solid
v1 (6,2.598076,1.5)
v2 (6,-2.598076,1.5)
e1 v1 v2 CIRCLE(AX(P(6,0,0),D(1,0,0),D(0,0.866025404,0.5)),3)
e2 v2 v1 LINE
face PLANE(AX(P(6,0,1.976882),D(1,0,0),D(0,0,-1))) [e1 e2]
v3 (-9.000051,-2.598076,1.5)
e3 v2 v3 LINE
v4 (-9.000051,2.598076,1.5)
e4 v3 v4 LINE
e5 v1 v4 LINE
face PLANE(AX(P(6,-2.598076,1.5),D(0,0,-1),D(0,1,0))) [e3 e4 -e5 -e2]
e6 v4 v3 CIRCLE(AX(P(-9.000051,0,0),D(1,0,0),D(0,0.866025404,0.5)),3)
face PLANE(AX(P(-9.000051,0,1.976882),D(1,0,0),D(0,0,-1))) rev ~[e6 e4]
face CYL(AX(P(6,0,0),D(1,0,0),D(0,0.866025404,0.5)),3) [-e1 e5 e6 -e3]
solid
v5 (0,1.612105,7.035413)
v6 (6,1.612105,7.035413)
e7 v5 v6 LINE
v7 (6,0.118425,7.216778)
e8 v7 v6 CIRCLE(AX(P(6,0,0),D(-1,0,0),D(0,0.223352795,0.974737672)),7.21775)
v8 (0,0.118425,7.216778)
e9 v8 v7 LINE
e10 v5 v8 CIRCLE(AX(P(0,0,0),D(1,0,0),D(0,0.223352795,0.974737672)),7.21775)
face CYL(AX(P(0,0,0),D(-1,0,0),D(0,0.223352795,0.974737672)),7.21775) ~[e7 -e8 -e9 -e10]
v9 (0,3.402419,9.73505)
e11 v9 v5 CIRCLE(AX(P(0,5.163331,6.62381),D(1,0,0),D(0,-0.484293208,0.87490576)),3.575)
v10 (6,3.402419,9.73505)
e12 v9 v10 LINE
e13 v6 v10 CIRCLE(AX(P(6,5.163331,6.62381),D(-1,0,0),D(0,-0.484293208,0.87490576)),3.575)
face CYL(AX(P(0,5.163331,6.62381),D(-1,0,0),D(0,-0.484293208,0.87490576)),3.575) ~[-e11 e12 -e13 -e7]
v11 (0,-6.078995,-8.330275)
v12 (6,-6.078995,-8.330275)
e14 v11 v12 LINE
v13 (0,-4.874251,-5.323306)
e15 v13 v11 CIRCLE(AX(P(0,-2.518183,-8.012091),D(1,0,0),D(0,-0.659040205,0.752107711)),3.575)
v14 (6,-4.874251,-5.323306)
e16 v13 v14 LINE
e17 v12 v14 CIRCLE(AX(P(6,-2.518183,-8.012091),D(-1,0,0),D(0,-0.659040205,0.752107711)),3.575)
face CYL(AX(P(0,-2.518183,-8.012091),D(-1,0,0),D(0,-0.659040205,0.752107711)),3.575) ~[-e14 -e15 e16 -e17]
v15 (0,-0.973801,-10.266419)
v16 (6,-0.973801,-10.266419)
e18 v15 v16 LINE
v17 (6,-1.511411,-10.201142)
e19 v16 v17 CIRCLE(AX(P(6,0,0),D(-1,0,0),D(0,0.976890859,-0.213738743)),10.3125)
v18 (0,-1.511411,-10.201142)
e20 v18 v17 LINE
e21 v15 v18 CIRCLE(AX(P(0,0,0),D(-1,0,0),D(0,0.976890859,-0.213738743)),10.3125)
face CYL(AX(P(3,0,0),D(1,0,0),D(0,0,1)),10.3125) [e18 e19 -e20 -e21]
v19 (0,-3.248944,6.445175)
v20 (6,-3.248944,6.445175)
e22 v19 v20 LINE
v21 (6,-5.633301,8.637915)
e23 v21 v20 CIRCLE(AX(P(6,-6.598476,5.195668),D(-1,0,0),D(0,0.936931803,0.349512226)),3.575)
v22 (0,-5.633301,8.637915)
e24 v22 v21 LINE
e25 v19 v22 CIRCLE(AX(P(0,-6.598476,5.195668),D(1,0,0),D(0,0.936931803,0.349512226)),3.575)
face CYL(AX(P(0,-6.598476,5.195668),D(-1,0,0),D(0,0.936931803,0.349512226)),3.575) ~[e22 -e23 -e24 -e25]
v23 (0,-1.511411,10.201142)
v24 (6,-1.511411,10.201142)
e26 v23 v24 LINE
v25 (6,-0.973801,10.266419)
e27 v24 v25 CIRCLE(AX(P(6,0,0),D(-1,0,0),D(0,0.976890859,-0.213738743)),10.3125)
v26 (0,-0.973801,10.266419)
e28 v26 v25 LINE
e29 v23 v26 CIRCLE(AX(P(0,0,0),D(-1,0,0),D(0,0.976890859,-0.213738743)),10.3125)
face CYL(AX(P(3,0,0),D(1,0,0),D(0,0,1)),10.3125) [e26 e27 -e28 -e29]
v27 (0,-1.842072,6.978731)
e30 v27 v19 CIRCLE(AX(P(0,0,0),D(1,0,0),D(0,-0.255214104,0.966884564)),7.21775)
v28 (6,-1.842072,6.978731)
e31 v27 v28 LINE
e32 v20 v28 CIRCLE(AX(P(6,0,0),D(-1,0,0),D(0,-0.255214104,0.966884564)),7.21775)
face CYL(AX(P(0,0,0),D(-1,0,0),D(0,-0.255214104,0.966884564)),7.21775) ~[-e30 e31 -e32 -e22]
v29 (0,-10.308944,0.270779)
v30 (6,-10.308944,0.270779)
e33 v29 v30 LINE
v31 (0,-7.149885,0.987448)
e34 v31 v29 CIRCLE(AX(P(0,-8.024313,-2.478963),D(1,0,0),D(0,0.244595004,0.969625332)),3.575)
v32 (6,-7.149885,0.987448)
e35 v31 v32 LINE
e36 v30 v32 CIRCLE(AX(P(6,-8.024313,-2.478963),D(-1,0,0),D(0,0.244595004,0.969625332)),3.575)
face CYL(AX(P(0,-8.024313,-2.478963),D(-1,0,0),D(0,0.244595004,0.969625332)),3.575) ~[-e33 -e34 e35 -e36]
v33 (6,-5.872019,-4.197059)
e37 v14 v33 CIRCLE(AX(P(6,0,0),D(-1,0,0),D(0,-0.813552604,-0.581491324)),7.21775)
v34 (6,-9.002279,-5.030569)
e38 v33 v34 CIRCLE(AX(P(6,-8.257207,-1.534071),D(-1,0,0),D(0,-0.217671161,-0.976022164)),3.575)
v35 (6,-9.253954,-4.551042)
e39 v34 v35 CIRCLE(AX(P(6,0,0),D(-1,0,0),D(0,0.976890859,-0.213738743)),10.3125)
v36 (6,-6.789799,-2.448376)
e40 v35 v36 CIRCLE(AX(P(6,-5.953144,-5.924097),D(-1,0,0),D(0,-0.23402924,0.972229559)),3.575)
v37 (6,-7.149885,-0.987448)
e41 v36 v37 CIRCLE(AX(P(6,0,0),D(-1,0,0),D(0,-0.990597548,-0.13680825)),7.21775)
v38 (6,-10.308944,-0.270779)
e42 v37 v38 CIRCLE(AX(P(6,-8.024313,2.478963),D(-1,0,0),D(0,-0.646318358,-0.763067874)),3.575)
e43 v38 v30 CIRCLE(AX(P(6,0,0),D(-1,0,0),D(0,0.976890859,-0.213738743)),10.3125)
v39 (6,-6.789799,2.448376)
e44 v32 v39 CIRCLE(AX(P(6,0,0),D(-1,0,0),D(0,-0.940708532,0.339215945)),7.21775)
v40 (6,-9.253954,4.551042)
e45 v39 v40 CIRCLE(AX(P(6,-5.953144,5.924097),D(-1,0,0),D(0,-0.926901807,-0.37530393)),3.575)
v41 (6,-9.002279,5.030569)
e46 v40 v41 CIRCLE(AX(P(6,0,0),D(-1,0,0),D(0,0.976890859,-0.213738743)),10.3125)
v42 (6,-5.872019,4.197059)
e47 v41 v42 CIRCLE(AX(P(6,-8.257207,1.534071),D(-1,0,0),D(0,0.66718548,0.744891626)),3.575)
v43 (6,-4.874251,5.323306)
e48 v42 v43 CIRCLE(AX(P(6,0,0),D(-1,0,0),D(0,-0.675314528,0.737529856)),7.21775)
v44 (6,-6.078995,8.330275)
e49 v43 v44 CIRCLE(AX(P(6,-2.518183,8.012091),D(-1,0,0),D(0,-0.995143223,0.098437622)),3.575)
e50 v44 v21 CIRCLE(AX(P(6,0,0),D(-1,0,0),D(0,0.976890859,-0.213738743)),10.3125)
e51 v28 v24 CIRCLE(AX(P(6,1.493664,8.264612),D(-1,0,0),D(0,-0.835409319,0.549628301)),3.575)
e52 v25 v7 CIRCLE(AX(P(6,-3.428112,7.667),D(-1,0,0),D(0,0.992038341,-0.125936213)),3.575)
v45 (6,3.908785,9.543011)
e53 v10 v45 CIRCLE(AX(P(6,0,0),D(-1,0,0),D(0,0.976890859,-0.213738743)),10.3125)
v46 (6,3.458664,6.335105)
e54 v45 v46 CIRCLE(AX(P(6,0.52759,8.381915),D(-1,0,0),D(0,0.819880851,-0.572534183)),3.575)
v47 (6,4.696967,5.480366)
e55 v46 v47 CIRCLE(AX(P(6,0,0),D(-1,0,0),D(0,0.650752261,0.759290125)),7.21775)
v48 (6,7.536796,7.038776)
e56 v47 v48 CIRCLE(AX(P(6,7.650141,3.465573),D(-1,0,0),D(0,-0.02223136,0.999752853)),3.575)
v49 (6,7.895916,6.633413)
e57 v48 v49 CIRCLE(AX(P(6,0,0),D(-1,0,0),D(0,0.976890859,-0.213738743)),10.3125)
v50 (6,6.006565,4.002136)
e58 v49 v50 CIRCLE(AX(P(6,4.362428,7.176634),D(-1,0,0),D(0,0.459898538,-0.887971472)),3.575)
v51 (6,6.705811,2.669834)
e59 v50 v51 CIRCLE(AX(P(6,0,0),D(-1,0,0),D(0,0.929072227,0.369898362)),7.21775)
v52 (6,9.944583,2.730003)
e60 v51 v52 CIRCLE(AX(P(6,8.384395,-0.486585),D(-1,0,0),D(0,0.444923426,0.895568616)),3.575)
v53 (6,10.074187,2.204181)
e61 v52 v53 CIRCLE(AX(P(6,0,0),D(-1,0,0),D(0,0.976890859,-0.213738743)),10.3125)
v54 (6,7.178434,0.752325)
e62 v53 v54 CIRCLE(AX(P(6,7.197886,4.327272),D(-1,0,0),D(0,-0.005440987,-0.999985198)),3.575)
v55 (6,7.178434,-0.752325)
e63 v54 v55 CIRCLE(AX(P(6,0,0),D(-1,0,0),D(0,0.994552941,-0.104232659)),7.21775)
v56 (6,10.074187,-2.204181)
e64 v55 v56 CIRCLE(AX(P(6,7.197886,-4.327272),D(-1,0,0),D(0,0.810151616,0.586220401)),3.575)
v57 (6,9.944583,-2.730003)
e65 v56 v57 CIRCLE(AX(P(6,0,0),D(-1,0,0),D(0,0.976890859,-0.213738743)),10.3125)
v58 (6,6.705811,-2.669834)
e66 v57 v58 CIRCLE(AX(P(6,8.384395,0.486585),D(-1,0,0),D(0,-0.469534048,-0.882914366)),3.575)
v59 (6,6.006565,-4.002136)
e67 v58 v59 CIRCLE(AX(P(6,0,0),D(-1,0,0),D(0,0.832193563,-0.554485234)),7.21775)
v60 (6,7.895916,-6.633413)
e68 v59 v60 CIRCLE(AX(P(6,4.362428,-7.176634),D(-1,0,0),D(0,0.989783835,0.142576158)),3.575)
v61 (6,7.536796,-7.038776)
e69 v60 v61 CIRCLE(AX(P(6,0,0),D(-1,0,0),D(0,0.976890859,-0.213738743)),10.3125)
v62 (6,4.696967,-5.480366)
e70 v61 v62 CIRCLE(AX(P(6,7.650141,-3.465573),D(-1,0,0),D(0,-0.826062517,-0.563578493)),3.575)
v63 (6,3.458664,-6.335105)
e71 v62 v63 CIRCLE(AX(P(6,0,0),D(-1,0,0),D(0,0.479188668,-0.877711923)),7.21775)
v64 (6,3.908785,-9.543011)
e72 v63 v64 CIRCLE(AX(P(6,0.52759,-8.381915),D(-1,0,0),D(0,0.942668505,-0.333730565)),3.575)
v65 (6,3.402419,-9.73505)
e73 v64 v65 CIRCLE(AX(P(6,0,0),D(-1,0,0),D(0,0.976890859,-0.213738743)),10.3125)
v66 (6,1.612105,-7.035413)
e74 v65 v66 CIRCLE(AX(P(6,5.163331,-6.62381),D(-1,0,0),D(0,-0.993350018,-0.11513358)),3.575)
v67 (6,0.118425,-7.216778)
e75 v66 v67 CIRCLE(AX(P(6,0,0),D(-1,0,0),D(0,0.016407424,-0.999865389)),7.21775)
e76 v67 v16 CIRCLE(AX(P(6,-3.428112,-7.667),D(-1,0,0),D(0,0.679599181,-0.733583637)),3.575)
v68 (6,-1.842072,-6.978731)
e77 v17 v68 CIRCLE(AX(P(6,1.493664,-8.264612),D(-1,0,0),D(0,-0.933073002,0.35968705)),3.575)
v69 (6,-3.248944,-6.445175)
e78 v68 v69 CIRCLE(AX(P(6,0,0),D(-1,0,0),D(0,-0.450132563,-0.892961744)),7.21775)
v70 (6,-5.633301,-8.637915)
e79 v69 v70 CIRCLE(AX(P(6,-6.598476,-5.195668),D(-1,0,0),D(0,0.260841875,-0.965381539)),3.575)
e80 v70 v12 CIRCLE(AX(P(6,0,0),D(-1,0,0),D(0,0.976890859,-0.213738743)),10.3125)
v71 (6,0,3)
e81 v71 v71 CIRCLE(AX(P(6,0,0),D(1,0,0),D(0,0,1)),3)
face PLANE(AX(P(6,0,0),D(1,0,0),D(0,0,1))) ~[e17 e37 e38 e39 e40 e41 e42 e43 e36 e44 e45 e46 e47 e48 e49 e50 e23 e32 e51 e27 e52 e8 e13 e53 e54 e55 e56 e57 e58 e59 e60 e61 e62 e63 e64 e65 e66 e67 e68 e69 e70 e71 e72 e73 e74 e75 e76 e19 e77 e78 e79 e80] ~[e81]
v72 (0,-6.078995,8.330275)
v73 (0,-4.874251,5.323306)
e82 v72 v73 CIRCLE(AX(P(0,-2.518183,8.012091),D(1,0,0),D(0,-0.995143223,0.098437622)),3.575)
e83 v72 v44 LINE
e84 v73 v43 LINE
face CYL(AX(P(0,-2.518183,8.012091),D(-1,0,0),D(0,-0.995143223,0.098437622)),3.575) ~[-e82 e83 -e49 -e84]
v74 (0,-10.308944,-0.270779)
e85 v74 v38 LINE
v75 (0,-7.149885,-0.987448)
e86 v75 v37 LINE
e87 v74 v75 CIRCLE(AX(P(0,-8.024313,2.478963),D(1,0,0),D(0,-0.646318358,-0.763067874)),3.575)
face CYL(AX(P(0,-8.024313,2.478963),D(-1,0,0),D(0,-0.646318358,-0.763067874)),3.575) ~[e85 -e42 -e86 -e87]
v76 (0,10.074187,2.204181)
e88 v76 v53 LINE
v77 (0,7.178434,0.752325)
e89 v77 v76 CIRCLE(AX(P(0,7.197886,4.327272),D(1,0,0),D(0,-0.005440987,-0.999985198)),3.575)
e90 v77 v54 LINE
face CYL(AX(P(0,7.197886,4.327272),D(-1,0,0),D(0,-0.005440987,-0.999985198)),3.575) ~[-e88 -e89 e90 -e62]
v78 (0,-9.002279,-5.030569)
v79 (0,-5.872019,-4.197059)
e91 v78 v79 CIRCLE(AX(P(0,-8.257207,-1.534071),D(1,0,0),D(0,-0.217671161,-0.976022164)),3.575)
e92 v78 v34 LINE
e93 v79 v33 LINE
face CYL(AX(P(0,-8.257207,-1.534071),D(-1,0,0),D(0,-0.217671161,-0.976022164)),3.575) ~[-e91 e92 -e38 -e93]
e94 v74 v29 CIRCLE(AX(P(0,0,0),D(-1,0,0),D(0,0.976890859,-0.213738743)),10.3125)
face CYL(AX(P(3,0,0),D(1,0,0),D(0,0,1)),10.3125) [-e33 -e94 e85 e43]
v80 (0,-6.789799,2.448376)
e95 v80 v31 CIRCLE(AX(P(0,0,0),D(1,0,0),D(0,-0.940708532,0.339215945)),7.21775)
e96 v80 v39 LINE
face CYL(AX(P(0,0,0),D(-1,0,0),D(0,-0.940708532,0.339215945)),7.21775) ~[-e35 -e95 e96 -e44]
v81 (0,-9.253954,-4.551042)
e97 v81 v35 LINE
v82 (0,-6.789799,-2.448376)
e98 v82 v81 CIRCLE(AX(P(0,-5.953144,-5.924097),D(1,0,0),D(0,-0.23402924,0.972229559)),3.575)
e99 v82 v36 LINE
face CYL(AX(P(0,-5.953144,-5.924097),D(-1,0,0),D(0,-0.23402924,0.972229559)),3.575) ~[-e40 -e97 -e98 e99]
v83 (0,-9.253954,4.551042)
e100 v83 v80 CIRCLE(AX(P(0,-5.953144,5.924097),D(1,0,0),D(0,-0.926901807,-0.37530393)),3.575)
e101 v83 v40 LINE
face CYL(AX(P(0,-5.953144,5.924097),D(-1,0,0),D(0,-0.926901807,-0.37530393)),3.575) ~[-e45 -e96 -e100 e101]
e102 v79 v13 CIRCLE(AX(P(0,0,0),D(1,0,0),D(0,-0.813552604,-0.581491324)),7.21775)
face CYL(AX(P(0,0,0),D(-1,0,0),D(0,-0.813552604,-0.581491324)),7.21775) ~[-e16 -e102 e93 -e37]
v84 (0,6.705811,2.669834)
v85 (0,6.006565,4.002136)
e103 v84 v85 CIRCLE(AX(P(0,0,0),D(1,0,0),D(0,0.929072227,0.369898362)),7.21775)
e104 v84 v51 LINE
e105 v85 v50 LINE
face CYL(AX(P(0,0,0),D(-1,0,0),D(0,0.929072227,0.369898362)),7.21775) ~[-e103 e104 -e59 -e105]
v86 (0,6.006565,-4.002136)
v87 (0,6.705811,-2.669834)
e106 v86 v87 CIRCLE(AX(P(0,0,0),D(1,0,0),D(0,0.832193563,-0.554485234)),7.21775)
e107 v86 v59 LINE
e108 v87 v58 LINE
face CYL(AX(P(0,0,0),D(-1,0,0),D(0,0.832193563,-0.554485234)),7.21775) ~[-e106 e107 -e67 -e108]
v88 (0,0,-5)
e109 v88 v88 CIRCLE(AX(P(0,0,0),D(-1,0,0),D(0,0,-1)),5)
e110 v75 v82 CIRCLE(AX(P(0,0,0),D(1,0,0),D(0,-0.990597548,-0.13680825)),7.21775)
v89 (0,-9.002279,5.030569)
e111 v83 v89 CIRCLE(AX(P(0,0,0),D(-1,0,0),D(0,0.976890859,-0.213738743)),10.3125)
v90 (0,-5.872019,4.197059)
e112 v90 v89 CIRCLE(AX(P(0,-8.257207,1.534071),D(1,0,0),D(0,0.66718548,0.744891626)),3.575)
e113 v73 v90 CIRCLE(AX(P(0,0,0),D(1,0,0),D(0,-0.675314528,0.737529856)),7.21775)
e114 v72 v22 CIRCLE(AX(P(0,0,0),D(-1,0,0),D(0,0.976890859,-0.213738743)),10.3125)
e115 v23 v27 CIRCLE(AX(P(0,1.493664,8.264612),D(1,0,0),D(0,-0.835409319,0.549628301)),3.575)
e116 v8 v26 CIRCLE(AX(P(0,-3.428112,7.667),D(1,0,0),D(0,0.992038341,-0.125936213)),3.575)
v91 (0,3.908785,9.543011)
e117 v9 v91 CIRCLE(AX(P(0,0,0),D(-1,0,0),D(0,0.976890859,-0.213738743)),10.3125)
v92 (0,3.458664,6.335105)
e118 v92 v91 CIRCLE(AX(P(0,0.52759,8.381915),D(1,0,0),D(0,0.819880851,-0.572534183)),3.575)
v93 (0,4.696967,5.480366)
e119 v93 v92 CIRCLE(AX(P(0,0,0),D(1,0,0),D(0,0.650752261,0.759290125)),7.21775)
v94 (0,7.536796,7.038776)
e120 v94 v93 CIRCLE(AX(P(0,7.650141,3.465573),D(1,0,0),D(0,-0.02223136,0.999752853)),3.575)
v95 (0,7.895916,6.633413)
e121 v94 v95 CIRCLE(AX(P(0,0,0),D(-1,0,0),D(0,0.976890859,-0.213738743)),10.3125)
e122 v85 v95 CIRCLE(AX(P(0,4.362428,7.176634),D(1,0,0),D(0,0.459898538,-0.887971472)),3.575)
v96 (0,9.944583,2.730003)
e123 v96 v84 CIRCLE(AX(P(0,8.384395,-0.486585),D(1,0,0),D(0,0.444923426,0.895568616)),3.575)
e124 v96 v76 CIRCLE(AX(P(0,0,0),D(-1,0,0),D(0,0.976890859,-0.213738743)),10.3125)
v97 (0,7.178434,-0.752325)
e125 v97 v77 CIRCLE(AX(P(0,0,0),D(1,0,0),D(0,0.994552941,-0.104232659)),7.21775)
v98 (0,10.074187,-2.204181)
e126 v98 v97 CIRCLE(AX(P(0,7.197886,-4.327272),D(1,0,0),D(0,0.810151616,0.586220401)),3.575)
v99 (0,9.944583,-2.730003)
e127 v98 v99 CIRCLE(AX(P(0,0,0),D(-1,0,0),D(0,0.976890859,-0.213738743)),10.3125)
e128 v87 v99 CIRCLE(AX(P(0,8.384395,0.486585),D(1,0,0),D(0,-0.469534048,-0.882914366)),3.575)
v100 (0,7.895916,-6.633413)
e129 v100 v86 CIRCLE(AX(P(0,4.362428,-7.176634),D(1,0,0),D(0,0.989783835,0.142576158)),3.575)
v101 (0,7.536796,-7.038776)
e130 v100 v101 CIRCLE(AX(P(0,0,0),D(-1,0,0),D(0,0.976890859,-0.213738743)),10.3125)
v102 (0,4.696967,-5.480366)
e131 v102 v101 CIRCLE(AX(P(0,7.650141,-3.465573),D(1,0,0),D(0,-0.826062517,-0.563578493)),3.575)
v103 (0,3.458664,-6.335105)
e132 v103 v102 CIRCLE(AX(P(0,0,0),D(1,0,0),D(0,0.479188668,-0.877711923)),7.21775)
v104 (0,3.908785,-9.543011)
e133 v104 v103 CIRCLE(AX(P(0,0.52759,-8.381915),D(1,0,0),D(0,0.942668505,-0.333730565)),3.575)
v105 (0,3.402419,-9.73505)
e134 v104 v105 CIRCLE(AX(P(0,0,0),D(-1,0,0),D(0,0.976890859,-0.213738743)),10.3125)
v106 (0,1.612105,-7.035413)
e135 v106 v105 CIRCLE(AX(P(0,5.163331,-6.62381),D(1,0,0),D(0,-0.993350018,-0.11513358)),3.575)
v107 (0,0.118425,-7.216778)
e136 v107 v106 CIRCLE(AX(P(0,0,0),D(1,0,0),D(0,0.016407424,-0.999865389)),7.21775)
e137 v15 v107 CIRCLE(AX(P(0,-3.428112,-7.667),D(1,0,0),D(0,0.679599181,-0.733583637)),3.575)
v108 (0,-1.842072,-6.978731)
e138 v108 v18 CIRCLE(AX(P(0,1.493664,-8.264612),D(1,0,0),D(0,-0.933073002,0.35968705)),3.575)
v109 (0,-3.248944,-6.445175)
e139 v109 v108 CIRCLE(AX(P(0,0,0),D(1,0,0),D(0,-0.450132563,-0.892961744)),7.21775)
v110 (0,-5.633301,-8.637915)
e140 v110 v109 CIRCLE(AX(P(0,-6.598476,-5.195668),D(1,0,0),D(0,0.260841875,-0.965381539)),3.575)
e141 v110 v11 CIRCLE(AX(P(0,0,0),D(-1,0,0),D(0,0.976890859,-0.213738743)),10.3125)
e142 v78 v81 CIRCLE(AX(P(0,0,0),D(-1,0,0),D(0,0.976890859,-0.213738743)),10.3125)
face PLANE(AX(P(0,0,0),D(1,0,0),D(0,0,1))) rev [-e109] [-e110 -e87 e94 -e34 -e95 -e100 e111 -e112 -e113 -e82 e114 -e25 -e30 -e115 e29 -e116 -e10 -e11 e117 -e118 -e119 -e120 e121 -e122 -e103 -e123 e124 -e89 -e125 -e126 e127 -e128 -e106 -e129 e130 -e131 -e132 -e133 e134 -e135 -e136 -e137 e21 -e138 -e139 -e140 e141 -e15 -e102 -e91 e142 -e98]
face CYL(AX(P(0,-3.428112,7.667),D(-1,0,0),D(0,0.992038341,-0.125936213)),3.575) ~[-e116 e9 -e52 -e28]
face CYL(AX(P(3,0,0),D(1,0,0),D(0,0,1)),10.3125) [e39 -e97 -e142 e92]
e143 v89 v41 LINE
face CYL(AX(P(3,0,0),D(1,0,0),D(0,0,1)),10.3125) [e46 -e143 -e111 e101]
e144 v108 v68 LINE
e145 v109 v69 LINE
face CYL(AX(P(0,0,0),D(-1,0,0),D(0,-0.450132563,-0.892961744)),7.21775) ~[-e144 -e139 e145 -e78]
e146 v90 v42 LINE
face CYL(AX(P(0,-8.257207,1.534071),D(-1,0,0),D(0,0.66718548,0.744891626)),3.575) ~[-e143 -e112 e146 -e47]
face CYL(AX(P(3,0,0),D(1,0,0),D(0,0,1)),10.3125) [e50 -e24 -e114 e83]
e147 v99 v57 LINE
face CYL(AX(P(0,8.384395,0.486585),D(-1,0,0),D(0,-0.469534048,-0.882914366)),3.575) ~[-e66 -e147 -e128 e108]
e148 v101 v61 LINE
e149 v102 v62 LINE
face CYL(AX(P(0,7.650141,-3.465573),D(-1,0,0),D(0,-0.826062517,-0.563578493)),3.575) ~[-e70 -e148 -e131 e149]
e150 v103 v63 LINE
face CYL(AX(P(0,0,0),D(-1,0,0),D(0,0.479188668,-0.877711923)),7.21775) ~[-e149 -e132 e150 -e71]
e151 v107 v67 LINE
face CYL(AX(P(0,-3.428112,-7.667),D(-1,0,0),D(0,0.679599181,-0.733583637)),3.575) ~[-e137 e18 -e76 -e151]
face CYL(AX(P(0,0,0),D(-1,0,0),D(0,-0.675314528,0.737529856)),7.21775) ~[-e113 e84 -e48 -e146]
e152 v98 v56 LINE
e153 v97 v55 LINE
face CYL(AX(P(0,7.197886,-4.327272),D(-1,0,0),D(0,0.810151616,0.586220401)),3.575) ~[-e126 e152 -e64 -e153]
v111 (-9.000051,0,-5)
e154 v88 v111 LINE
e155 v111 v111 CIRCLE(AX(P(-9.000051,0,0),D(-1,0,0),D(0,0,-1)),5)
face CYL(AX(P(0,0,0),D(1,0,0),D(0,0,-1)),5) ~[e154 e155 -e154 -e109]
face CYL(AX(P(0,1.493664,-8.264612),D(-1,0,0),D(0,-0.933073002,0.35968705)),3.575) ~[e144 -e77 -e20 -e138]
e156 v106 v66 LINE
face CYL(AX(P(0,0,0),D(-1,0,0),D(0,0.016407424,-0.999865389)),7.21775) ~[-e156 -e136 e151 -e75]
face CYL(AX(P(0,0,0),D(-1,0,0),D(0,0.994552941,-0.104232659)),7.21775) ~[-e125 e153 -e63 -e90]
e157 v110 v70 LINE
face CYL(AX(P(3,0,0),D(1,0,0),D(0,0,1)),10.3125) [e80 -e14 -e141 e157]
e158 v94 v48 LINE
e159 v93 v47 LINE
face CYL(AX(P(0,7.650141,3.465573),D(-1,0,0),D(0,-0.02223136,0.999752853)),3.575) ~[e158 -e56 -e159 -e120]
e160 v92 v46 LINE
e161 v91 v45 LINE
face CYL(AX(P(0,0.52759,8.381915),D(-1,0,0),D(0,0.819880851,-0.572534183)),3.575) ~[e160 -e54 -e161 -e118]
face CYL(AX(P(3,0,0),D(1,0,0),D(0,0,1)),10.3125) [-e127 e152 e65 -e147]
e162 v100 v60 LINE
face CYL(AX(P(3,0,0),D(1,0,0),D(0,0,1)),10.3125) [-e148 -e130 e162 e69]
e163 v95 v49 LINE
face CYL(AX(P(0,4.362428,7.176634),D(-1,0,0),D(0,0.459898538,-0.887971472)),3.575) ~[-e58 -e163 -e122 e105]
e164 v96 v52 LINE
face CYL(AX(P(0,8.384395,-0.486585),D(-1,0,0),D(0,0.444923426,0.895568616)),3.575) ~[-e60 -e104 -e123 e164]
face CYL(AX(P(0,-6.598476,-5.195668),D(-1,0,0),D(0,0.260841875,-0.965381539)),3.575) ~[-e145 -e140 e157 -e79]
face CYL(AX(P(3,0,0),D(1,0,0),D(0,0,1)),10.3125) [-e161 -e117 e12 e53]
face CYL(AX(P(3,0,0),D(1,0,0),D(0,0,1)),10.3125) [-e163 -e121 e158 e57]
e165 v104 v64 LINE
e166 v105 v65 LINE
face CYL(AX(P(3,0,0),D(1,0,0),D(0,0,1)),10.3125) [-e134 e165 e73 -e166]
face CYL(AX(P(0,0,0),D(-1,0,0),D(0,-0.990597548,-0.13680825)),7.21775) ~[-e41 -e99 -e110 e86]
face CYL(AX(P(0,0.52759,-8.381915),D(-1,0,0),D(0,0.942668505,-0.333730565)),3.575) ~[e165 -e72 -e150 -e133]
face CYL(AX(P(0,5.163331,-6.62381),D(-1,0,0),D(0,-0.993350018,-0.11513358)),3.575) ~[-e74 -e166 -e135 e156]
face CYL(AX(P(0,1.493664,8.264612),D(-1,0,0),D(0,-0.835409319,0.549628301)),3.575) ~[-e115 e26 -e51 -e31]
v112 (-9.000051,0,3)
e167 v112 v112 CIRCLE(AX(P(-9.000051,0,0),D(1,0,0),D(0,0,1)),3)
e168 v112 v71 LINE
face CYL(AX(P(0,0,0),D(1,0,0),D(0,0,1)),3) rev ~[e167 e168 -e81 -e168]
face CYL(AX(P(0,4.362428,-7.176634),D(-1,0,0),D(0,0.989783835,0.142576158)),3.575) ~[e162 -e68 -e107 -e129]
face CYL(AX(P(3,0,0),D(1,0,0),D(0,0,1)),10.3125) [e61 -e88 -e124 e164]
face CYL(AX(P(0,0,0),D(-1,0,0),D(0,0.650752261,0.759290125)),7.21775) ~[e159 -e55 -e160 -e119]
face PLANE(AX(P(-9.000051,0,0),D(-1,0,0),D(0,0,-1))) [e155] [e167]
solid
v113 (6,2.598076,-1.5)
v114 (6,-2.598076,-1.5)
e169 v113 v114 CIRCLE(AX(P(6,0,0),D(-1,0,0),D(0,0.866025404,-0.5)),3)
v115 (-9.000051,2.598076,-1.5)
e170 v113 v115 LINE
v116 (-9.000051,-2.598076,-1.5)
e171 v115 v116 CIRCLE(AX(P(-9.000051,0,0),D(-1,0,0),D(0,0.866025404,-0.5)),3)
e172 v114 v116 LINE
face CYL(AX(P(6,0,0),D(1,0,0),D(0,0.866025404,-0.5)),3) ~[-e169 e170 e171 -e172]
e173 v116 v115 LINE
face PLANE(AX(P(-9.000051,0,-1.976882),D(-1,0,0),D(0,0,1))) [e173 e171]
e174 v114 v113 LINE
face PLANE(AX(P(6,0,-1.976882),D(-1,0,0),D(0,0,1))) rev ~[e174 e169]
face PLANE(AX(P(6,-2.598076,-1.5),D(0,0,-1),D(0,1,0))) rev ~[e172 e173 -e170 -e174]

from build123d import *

# Parameters (mm, degrees)
BASPROSKE_W                = 6
BASPROSKE_H                = 10.3125
TOOTHCUT_DEPTH             = 16.77007649
TEETHCUTS_COUNT            = 13
TEETHCUTS_ANGLE            = 332.307692308
HUBNEAONESKE_R             = 5
HUBNEARONE_DEPTH           = 9.0000508
BORSKE_R                   = 3
BORE_DEPTH                 = 15.0000508
RESSALTO_EXTRUS_O1_DEPTH   = 15.0000508
RESSALTO_EXTRUS_O1_2_DEPTH = 15.0000508


with BuildPart() as part:
    # BasProSke → Base-Revolve (revolve)
    with BuildSketch(Plane(origin=(0, 0, 0), x_dir=(1, 0, 0), z_dir=(0, 1, 0)), mode=Mode.PRIVATE) as base_revolve_sk:
        with Locations((3, 5.15625)):
            Rectangle(BASPROSKE_W, BASPROSKE_H)
    revolve(base_revolve_sk.sketch.rotate(Axis((-10, 0, 0), (1, 0, 0)), 180), axis=Axis((-10, 0, 0), (1, 0, 0)))

    # TooCutSke → ToothCut (cut, through all)
    with BuildSketch(Plane(origin=(0, 0, 0), x_dir=(0, 0, -1), z_dir=(1, 0, 0))):
        with BuildLine():
            ThreePointArc((0.752325277, 7.178434491), (0, 7.21775), (-0.752325277, 7.178434491))
            ThreePointArc((-0.752325277, 7.178434491), (-1.139082079, 8.815312292), (-2.231534425, 10.094178051))
            ThreePointArc((-2.231534425, 10.094178051), (0, 10.3379), (2.231534425, 10.094178051))
            ThreePointArc((2.231534425, 10.094178051), (1.139082079, 8.815312292), (0.752325277, 7.178434491))
        make_face()
    toothcut = extrude(amount=TOOTHCUT_DEPTH, mode=Mode.SUBTRACT)

    # TeethCuts: ToothCut ×13 about axis
    teethcuts_axis = Axis((-10, 0, 0), (1, 0, 0))
    for i in range(1, TEETHCUTS_COUNT):
        add(toothcut.rotate(teethcuts_axis, i * TEETHCUTS_ANGLE / (TEETHCUTS_COUNT - 1)), mode=Mode.SUBTRACT)

    # HubNeaOneSke → HubNearOne (add)
    with BuildSketch(Plane.ZY):
        with Locations(Location((0, 0, 0), (0, 0, 180))):
            Circle(HUBNEAONESKE_R)
    extrude(amount=HUBNEARONE_DEPTH)

    # BorSke → Bore (cut, symmetric)
    with BuildSketch(Plane(origin=(0, 0, 0), x_dir=(0, 0, -1), z_dir=(1, 0, 0))):
        with Locations(Location((0, 0, 0), (0, 0, 180))):
            Circle(BORSKE_R)
    extrude(amount=BORE_DEPTH, both=True, mode=Mode.SUBTRACT)


with BuildPart() as body_2:
    # Esboço1 → Ressalto-extrusão1 (new body)
    with BuildSketch(Plane(origin=(6, 0, 0), x_dir=(0, 0, -1), z_dir=(1, 0, 0))):
        with BuildLine():
            Line((-1.5, -2.598076211), (-1.5, 2.598076211))
            ThreePointArc((-1.5, 2.598076211), (-3, 0), (-1.5, -2.598076211))
        make_face()
    extrude(amount=-RESSALTO_EXTRUS_O1_DEPTH)


with BuildPart() as body_3:
    # Esboço1 → Ressalto-extrus_o1 2 (new body)
    with BuildSketch(Plane(origin=(6, 0, 0), x_dir=(0, 0, -1), z_dir=(1, 0, 0))):
        with BuildLine():
            Line((1.5, -2.598076211), (1.5, 2.598076211))
            ThreePointArc((1.5, 2.598076211), (3, 0), (1.5, -2.598076211))
        make_face()
    extrude(amount=-RESSALTO_EXTRUS_O1_2_DEPTH)


solid = Compound([part.part, body_2.part, body_3.part])
